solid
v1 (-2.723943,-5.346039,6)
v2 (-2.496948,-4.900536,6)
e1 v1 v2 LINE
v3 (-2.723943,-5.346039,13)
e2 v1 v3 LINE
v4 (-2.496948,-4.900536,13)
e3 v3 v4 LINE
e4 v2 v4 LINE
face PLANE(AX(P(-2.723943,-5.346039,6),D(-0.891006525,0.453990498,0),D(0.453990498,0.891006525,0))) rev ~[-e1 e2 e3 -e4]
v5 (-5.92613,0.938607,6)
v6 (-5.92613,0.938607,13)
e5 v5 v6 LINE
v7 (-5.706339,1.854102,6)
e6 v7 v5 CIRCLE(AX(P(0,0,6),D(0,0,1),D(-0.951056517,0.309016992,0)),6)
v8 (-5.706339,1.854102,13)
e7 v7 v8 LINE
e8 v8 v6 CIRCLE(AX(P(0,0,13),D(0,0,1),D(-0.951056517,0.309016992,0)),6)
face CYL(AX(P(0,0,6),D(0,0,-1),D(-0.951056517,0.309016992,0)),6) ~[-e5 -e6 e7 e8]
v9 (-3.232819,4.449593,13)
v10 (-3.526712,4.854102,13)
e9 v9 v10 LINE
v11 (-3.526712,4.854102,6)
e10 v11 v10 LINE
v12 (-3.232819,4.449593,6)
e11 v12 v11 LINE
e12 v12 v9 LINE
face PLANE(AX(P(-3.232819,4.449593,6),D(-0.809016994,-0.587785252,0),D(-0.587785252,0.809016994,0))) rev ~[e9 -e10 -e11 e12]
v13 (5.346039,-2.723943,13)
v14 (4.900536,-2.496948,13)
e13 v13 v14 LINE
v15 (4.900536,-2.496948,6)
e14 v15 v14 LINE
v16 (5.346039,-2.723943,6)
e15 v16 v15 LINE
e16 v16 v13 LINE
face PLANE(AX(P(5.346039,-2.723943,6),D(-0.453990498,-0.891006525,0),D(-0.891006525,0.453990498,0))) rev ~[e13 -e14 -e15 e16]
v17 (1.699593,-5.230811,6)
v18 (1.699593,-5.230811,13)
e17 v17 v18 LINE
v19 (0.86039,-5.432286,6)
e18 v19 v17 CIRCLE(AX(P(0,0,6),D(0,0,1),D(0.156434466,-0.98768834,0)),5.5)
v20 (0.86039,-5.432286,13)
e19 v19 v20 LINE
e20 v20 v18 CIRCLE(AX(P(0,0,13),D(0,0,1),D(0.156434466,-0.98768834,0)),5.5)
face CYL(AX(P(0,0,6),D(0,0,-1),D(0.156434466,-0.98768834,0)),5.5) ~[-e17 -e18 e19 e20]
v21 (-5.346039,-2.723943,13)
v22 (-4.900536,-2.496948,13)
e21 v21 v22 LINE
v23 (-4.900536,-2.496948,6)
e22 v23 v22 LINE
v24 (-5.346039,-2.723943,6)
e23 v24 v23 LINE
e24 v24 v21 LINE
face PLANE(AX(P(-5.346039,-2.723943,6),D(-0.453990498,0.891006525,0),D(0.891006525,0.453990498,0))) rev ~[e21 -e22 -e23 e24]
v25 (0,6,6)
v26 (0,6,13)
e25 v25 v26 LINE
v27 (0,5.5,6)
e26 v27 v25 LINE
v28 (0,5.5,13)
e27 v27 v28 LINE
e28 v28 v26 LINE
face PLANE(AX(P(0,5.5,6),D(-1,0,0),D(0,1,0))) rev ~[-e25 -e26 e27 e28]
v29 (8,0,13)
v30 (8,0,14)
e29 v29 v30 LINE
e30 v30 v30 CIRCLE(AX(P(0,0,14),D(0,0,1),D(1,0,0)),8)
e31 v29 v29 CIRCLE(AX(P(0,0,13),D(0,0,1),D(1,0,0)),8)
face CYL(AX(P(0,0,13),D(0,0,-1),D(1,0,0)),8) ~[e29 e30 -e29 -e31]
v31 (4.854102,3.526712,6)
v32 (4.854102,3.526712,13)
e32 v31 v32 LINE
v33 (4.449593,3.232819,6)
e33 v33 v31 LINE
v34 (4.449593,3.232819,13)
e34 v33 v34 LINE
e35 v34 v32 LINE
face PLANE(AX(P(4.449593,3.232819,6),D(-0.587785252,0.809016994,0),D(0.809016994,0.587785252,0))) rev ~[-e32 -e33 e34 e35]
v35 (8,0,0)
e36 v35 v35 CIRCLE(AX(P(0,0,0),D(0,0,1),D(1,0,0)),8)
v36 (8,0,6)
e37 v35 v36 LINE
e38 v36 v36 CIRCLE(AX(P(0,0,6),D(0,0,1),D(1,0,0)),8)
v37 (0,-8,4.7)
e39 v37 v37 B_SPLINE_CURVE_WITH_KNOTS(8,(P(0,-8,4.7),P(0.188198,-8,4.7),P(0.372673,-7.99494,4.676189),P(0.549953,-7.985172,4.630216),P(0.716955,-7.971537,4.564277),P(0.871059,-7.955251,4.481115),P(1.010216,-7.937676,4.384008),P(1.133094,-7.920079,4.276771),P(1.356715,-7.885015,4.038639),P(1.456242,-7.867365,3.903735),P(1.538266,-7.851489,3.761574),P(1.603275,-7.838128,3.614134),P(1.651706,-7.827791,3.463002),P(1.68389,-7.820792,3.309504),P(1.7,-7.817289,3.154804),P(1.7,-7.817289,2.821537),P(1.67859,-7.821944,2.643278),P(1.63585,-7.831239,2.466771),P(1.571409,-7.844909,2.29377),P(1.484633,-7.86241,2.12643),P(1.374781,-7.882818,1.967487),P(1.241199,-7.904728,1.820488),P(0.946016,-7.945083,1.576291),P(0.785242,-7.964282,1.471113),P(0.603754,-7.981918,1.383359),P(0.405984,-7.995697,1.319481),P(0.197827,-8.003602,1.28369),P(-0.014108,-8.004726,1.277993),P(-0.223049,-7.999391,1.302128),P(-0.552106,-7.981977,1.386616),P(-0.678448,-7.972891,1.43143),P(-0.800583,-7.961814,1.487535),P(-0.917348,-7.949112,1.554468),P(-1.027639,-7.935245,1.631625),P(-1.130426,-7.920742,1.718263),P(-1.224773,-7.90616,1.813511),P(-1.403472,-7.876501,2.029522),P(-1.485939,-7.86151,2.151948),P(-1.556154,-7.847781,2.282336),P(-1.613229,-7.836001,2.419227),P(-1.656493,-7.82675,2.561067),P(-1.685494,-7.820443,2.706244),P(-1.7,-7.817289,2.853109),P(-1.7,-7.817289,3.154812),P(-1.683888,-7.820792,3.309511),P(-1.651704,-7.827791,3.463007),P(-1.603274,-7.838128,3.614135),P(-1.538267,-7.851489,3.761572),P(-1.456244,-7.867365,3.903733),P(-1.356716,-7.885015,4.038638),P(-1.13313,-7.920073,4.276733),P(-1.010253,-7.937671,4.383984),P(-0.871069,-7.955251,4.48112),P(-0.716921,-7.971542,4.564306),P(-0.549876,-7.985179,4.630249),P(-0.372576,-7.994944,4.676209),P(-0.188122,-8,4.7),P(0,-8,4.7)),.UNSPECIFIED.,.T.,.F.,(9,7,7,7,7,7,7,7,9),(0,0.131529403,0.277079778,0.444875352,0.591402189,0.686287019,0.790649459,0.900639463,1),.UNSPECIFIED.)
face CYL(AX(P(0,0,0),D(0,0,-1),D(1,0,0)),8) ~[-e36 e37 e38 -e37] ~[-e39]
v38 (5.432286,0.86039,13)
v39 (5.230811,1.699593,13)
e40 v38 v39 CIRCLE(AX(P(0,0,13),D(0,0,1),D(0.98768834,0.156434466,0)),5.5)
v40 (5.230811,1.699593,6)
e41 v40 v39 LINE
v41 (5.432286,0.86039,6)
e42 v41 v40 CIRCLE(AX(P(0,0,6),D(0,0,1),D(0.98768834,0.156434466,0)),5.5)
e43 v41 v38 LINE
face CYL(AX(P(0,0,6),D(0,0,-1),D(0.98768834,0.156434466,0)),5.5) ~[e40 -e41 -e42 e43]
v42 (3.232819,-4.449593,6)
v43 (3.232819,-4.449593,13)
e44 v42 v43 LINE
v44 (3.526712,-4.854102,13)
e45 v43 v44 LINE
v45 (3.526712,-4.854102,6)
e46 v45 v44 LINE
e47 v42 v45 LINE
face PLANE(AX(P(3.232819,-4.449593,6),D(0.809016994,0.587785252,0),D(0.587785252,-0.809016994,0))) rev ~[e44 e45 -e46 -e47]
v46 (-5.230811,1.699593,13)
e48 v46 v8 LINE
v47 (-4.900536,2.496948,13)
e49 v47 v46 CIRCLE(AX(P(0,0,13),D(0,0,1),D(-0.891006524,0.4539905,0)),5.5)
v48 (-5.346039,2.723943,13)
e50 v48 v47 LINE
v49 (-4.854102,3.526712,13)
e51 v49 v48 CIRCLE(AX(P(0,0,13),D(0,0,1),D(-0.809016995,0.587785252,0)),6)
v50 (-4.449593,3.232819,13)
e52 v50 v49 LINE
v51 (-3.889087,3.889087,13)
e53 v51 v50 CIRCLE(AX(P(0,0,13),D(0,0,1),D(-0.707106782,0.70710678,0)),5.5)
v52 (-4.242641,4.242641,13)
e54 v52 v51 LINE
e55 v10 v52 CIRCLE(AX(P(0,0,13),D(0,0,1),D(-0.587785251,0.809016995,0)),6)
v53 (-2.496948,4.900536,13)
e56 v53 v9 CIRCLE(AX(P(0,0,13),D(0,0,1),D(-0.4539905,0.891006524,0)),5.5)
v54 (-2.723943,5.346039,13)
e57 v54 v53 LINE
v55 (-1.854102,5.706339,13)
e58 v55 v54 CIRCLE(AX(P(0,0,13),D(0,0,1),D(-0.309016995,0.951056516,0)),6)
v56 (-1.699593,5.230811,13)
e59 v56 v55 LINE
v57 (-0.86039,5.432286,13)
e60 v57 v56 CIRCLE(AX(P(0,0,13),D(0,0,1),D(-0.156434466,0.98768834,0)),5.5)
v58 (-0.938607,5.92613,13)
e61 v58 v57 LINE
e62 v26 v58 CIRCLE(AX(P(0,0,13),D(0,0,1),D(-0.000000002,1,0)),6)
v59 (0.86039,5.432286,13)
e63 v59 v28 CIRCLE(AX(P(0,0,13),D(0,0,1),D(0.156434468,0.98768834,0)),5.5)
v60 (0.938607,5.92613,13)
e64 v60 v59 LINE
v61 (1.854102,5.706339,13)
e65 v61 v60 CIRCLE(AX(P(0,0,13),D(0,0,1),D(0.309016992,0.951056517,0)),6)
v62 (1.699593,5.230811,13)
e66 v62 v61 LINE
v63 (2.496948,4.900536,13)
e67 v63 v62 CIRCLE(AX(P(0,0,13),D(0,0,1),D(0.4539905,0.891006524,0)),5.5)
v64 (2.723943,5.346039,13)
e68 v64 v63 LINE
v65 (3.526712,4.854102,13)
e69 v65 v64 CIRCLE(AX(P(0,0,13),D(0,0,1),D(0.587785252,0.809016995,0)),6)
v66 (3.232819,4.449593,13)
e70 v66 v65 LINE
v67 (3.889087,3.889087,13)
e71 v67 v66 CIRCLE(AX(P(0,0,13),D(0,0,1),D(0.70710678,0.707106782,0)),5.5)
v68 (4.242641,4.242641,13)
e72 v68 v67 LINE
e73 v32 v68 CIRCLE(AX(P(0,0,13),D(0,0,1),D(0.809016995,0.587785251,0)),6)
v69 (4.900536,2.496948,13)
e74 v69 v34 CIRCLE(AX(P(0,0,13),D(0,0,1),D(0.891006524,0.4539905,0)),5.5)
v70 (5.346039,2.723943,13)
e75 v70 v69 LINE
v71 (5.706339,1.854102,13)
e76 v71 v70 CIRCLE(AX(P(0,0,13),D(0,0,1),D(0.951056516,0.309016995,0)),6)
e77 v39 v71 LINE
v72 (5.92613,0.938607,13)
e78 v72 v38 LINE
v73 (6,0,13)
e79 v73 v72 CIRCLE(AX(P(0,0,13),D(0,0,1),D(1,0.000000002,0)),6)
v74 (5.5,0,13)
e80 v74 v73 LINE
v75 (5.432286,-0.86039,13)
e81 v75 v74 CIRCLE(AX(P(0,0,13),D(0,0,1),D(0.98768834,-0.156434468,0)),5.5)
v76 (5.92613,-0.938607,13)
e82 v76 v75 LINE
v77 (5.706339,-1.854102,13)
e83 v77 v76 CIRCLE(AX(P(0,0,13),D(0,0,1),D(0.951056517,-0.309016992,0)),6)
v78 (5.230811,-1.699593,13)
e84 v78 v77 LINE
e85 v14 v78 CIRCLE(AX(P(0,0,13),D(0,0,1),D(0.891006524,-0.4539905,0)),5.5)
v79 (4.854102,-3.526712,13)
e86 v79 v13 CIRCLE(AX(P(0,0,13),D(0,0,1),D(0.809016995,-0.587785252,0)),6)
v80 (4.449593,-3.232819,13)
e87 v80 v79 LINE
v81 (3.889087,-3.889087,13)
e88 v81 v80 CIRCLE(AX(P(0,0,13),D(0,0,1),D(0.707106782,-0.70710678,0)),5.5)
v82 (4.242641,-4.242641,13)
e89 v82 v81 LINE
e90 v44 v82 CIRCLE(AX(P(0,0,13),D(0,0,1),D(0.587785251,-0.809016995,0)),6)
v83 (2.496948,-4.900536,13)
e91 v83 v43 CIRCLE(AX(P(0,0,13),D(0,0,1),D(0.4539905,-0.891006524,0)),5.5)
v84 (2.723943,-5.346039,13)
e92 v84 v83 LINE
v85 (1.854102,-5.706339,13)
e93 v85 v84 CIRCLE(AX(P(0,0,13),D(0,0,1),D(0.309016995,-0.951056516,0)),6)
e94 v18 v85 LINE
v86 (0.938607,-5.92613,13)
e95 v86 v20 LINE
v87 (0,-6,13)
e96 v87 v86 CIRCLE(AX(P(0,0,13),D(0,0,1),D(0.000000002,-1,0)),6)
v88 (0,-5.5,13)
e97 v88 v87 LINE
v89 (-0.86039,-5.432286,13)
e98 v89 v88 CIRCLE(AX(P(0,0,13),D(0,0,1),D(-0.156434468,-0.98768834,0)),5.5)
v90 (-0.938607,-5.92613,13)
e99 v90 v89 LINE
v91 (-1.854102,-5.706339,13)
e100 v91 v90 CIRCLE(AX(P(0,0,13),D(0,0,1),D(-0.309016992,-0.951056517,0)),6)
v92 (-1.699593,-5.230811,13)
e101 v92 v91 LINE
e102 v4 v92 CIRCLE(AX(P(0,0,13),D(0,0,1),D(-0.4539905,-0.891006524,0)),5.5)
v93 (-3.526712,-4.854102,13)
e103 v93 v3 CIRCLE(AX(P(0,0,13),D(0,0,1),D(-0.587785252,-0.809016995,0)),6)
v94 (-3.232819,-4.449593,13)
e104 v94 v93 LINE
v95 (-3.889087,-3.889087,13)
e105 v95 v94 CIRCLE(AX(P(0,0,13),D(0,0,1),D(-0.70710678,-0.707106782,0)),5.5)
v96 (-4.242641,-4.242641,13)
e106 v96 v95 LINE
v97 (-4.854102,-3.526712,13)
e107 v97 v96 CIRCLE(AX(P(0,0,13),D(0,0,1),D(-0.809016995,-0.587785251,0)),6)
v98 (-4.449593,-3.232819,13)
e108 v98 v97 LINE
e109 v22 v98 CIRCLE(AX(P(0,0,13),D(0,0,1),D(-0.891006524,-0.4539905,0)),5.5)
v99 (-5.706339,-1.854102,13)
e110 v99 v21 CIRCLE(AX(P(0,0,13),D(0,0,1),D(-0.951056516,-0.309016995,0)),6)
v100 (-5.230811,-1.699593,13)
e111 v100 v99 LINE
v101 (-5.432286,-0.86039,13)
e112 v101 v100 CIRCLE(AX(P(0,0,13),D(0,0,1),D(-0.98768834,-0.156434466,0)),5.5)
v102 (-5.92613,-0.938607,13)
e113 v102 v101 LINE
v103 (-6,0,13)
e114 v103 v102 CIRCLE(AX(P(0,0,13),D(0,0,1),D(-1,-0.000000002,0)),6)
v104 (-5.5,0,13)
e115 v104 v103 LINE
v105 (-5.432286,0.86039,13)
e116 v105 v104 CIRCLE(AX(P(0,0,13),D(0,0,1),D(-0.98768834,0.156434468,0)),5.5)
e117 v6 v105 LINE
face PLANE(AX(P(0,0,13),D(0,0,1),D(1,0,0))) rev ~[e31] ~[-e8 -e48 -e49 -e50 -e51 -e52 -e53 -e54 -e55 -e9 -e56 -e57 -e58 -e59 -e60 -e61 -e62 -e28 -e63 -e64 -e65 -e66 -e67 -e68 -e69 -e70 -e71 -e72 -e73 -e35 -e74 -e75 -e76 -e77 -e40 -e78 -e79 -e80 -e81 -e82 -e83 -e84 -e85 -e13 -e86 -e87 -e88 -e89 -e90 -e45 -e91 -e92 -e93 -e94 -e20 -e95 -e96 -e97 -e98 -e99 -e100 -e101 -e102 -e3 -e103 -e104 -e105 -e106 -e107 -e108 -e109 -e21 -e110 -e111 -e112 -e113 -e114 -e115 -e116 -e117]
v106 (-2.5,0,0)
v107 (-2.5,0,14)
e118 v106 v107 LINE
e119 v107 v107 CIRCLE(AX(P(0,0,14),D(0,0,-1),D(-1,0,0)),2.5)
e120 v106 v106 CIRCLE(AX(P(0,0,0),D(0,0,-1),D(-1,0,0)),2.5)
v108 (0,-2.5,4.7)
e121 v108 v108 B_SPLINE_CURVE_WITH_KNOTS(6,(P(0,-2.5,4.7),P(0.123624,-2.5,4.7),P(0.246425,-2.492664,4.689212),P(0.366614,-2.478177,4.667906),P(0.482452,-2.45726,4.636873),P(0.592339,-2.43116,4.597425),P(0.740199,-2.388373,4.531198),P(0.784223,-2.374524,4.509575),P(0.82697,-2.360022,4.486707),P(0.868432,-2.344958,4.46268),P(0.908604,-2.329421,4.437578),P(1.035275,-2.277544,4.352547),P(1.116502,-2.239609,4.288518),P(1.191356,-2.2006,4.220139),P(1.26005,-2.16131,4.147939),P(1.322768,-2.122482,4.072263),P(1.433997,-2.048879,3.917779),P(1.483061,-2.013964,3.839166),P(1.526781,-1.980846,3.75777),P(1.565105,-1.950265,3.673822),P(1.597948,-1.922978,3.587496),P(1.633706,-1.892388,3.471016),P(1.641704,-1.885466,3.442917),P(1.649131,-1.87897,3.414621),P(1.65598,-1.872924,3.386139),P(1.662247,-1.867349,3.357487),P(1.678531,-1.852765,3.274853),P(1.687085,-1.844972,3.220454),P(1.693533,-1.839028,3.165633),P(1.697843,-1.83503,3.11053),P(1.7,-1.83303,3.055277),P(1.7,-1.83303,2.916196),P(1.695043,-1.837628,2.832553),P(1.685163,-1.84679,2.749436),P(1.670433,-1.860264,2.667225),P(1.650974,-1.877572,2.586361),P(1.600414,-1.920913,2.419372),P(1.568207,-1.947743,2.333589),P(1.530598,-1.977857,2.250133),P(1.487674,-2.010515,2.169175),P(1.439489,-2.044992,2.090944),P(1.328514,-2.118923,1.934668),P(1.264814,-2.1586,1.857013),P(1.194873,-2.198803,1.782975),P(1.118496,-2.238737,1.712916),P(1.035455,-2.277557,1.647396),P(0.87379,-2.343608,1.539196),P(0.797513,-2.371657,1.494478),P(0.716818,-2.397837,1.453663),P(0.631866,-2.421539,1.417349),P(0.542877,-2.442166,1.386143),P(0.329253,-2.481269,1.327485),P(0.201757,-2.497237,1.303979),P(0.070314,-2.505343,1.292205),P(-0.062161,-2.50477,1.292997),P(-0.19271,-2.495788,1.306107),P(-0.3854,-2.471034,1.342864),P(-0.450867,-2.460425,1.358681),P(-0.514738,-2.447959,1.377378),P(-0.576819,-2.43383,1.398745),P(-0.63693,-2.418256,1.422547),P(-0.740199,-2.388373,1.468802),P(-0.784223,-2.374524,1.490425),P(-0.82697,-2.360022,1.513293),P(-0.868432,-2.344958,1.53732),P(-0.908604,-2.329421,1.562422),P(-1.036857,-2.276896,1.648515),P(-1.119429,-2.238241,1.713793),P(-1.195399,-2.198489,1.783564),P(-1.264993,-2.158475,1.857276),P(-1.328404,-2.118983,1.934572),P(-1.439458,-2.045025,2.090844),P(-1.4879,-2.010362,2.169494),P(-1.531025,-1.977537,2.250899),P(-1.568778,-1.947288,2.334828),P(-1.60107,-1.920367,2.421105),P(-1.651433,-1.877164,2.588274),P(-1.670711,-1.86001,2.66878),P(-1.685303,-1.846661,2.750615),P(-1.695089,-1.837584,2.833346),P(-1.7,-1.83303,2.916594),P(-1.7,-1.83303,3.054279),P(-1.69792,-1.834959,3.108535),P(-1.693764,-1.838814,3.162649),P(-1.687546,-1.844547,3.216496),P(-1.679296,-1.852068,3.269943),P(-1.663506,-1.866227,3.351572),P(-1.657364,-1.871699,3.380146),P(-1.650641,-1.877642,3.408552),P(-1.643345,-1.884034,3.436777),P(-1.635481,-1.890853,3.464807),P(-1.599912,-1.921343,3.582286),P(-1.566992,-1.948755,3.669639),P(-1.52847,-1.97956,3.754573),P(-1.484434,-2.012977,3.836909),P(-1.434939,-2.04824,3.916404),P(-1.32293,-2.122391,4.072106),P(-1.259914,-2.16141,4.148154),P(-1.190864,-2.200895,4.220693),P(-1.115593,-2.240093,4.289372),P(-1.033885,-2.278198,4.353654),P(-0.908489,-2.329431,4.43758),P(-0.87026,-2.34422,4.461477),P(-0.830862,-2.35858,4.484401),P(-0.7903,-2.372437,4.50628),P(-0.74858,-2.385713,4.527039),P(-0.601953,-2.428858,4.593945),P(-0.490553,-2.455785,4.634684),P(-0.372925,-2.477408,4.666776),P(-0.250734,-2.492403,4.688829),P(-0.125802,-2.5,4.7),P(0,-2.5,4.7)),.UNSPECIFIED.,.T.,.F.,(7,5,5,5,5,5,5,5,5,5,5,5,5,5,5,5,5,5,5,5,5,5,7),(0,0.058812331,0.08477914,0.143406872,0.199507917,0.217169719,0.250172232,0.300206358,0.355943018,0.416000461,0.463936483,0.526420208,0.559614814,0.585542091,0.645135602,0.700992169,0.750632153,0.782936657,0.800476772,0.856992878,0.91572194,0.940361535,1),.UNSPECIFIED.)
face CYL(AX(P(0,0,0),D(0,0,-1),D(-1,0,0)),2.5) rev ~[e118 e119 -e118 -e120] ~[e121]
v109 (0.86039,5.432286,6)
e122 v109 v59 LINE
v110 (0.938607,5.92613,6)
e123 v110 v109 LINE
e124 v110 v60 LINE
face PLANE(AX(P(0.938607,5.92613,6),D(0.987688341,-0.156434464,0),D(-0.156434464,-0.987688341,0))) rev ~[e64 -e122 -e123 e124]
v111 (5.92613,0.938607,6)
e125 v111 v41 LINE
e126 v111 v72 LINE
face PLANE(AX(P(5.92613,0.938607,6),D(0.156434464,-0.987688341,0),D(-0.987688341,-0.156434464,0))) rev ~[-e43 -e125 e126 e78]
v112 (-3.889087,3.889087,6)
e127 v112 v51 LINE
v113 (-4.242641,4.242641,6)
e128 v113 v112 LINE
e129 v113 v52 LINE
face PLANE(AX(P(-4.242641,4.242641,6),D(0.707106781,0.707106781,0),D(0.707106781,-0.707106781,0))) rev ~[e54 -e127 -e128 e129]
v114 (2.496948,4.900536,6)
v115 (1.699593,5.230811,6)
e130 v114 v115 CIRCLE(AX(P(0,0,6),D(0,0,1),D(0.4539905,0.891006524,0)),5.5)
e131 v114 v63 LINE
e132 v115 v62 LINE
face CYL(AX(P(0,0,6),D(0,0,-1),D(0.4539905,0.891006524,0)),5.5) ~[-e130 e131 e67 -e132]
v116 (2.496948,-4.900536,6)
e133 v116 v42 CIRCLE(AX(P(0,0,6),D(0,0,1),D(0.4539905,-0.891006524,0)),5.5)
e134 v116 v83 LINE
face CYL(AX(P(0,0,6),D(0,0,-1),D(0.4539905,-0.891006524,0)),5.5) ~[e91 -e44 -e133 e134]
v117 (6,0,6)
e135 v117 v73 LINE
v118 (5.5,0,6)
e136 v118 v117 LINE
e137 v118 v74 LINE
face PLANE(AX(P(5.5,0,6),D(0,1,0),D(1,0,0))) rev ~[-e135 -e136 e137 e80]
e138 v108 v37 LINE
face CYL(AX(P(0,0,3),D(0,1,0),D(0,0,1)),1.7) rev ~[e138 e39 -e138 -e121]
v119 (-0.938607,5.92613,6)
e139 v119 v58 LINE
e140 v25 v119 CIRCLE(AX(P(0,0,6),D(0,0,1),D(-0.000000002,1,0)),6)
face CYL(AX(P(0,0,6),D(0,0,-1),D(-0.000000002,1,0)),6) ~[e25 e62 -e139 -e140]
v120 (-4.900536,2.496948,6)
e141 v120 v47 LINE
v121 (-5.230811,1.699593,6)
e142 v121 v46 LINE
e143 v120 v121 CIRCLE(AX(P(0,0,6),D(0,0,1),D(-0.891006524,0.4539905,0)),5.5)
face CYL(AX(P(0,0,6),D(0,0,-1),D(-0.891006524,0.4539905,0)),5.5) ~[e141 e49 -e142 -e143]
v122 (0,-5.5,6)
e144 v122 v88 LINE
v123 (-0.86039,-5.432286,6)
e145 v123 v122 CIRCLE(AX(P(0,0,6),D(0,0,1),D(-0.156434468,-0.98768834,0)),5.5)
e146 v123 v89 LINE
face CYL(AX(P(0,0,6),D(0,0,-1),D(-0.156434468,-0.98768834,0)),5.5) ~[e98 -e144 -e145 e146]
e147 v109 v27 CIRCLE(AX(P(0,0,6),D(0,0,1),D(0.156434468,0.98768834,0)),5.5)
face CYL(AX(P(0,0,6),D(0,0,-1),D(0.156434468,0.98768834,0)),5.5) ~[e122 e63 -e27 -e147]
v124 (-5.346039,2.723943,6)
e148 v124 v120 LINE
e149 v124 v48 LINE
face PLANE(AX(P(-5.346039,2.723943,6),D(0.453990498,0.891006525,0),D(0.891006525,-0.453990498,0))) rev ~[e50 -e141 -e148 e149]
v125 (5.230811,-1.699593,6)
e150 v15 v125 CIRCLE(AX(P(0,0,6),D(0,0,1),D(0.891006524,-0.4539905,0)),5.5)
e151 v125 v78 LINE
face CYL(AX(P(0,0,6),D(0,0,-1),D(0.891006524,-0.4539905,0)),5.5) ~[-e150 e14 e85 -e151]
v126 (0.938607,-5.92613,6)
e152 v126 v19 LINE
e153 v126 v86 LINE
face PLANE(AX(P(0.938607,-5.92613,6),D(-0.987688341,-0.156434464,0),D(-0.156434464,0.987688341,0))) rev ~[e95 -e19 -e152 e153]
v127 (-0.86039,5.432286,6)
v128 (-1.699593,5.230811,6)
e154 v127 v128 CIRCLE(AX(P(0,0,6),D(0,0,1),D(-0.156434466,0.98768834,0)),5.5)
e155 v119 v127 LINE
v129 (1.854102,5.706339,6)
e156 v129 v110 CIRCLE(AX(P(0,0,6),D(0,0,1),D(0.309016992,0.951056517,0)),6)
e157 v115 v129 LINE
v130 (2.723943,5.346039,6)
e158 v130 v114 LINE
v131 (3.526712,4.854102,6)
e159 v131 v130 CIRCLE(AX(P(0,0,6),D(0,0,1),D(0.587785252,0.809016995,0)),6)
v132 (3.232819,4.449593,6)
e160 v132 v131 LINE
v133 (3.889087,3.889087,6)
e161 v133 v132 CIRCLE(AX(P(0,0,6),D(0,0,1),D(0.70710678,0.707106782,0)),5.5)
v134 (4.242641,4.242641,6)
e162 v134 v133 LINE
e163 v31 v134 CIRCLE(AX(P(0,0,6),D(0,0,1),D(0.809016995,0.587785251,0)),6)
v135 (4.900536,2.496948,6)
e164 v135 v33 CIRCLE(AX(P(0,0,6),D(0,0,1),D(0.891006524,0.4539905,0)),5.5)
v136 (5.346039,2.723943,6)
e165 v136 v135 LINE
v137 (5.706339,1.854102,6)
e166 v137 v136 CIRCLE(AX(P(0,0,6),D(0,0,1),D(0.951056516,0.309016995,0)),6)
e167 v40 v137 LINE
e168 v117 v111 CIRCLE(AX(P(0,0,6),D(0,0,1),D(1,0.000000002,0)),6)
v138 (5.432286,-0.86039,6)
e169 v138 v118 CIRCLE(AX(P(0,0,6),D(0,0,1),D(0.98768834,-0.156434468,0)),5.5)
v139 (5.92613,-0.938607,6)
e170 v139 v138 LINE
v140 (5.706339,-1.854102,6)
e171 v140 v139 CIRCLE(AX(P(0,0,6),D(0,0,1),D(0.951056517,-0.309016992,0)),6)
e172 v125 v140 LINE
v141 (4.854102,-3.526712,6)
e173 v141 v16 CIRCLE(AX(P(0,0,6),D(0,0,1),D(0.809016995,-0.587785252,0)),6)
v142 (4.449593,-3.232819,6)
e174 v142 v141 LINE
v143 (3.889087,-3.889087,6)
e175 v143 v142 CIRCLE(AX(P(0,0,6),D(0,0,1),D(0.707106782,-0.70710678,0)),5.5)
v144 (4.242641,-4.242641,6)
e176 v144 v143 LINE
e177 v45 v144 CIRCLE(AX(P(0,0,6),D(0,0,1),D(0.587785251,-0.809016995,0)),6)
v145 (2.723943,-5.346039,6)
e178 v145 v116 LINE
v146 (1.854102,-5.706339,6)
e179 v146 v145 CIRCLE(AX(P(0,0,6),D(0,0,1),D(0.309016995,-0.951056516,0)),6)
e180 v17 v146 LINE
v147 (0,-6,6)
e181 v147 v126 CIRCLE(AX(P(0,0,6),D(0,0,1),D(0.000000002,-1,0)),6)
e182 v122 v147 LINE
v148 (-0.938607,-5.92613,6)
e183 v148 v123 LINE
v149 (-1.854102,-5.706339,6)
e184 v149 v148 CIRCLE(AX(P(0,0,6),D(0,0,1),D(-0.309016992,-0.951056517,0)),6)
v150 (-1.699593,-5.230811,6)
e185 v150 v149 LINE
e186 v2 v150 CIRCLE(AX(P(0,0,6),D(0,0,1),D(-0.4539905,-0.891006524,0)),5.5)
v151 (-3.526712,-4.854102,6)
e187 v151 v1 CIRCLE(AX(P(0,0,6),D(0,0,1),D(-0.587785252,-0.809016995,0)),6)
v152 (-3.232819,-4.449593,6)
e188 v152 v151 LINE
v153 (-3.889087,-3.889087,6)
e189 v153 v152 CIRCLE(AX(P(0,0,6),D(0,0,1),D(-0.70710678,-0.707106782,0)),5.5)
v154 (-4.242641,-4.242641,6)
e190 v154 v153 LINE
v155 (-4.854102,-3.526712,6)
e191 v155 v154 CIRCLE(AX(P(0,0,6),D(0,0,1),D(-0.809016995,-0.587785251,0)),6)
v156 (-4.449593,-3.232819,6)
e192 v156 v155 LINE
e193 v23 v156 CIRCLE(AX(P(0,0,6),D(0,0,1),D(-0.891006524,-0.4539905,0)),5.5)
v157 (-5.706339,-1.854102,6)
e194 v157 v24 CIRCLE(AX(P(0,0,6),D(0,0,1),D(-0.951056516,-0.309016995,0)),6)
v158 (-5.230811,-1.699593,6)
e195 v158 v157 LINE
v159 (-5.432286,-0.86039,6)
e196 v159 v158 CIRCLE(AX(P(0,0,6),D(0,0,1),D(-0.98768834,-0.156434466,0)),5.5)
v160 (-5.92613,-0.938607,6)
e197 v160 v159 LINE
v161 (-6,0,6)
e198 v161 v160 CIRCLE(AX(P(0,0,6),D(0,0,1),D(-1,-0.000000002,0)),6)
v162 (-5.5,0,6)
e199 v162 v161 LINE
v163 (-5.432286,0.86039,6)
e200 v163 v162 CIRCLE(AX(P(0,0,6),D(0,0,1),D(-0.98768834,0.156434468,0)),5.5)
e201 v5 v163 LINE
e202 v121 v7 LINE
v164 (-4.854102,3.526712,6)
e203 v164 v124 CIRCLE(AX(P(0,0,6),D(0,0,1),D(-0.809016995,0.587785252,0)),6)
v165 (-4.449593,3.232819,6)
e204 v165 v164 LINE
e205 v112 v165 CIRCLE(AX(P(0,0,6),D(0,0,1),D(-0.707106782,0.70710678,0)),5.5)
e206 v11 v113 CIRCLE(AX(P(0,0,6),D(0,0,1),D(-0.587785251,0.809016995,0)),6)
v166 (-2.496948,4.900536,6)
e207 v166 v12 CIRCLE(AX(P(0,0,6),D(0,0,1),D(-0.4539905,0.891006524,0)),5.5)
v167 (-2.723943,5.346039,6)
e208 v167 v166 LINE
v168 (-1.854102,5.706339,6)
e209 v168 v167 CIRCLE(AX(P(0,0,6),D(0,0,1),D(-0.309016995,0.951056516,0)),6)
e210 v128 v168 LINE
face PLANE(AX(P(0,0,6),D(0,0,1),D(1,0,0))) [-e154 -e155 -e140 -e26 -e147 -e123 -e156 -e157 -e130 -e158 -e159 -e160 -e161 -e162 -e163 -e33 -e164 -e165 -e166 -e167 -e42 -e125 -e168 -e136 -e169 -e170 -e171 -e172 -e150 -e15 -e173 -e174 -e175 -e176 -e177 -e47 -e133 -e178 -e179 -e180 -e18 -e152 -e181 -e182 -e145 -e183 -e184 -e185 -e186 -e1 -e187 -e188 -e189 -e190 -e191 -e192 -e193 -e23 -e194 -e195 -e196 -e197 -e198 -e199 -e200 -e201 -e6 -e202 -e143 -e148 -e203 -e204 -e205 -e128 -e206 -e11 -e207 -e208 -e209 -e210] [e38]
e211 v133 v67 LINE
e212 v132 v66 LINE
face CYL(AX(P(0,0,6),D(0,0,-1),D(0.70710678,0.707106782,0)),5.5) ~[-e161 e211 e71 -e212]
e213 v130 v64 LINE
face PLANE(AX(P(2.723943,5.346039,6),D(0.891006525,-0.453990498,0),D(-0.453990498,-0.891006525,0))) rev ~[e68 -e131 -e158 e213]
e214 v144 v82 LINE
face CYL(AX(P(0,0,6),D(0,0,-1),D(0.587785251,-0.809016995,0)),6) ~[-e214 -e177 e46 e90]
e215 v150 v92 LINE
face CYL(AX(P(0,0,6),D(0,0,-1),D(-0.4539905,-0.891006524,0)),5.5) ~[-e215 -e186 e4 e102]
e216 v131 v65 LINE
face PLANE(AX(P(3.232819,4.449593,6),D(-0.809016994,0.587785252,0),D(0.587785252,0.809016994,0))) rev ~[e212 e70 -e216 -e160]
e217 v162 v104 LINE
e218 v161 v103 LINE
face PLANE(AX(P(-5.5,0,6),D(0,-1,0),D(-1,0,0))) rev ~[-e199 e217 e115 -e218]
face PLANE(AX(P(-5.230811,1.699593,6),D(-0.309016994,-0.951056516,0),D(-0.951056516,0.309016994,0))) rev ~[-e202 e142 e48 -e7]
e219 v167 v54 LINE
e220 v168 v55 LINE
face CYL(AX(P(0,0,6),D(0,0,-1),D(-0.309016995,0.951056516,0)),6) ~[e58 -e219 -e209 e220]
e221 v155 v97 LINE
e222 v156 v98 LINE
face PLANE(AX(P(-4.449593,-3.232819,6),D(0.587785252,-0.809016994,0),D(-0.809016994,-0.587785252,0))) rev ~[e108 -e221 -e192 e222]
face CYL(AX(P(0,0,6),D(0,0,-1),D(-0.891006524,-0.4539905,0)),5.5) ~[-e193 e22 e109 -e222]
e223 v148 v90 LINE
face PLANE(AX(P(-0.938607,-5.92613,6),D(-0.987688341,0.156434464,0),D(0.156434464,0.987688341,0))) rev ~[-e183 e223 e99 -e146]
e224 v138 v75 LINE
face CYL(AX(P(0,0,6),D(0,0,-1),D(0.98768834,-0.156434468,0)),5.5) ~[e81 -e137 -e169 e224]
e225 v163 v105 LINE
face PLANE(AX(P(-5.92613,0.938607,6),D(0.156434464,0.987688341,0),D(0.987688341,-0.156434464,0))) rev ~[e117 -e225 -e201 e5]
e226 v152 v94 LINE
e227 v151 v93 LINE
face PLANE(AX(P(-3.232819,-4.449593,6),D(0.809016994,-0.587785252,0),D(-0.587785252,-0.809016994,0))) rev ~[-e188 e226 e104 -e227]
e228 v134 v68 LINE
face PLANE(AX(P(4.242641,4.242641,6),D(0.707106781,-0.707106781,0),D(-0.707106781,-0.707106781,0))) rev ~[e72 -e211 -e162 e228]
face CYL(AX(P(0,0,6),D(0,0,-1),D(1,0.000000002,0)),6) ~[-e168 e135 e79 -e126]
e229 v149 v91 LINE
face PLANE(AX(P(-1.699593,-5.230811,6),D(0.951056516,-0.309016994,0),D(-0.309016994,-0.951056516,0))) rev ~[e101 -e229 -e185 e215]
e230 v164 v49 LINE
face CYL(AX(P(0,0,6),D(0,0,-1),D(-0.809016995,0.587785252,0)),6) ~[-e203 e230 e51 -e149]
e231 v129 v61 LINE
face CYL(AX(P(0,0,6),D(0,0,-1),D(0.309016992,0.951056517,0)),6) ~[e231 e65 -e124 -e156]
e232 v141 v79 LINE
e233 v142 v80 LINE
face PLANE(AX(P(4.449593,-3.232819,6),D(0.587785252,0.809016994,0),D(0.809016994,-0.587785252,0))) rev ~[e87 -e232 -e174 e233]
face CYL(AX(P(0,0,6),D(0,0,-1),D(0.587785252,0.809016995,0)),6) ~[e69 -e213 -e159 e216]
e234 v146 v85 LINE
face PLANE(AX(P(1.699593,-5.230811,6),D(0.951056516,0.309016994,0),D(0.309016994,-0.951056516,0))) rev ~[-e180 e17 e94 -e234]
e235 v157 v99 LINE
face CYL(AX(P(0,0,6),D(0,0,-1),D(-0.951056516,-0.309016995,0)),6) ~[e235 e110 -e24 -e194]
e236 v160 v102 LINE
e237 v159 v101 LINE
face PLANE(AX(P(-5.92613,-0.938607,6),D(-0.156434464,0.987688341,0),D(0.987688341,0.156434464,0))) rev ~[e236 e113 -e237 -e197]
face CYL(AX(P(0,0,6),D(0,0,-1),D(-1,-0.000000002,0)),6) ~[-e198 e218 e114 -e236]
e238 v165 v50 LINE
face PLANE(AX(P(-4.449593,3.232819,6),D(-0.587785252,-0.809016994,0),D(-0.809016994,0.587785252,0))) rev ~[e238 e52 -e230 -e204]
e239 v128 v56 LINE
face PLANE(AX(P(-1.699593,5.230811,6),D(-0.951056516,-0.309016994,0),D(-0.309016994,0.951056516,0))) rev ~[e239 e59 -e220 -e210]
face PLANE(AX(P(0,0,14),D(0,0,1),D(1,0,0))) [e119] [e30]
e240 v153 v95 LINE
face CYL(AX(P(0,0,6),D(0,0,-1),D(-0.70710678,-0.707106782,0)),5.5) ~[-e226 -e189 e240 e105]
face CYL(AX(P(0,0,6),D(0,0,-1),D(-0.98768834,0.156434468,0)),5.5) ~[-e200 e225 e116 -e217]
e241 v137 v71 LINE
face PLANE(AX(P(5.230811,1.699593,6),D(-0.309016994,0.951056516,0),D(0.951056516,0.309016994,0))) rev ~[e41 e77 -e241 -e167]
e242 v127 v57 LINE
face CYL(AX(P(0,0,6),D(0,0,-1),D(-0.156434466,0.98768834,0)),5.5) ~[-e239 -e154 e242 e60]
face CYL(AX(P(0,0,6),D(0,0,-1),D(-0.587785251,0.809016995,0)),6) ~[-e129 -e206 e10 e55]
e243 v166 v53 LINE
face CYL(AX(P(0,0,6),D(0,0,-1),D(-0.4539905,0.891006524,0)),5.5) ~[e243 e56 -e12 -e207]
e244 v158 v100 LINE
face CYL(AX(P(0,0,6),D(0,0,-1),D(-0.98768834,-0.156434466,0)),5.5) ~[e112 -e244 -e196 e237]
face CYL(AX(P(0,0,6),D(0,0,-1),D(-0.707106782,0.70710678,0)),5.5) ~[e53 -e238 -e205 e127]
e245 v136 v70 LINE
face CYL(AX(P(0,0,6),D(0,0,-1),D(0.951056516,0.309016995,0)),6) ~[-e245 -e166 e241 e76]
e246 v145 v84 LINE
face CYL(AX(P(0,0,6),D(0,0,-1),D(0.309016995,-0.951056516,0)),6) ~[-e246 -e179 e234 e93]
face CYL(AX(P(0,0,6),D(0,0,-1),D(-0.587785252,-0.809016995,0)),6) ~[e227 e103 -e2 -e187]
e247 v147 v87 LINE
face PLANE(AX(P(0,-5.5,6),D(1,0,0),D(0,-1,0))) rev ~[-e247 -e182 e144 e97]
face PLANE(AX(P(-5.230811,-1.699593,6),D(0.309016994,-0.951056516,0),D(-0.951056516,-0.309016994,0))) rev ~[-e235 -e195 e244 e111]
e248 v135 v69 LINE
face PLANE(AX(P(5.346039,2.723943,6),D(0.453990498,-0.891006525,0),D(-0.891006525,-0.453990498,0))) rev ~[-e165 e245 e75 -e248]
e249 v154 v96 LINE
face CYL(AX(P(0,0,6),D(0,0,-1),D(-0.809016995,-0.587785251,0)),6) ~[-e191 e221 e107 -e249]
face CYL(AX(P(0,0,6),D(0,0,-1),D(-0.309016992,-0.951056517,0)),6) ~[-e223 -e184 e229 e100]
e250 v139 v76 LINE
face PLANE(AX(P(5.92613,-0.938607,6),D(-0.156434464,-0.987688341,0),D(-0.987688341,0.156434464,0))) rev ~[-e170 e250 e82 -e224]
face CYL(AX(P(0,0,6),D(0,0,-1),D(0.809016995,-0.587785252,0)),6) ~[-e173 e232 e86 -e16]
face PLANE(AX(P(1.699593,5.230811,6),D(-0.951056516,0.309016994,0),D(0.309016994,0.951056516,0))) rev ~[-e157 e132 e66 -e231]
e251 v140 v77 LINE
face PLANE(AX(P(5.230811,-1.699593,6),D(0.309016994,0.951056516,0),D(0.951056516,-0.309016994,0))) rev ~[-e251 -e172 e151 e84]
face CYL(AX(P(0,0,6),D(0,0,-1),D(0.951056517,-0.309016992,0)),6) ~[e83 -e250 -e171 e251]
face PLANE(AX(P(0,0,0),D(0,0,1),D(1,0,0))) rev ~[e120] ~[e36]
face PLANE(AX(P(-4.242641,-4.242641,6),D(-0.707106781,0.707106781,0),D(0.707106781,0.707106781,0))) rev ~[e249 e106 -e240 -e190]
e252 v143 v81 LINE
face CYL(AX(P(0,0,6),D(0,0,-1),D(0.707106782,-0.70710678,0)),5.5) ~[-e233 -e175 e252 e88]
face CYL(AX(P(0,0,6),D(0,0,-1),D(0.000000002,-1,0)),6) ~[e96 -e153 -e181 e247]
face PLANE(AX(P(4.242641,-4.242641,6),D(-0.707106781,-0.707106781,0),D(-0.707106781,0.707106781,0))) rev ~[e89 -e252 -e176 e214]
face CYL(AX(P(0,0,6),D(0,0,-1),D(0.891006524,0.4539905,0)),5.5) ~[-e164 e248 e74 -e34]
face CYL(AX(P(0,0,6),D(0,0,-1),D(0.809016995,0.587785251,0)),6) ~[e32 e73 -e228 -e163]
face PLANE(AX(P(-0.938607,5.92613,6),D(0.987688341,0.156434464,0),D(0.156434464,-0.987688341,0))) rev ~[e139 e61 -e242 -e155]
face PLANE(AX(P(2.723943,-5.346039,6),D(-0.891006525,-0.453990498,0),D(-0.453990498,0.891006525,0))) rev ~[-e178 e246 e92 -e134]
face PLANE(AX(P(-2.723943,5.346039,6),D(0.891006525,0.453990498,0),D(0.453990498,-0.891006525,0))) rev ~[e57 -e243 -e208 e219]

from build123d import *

# Parameters (mm, degrees)
SKETCH1_R           = 8
BOSS_EXTRUDE1_DEPTH = 6
BOSS_EXTRUDE2_DEPTH = 7
SKETCH3_R           = 8
BOSS_EXTRUDE3_DEPTH = 1
SKETCH4_R           = 2.5
CUT_EXTRUDE1_DEPTH  = 19
SKETCH5_R           = 1.7
CUT_EXTRUDE2_DEPTH  = 19


with BuildPart() as part:
    # Sketch1 → Boss-Extrude1 (new body)
    with BuildSketch(Plane.XY):
        Circle(SKETCH1_R)
    extrude(amount=BOSS_EXTRUDE1_DEPTH)

    # Sketch2 → Boss-Extrude2 (add)
    with BuildSketch(Plane.XY.offset(6)):
        with BuildLine():
            Line((0, 5.5), (0, 6))
            ThreePointArc((0, 6), (-0.470754574, 5.981504002), (-0.93860679, 5.926130044))
            Line((-0.93860679, 5.926130044), (-0.860389558, 5.432285873))
            ThreePointArc((-0.860389558, 5.432285873), (-1.283949501, 5.348034562), (-1.699593469, 5.23081084))
            Line((-1.699593469, 5.23081084), (-1.854101966, 5.706339098))
            ThreePointArc((-1.854101966, 5.706339098), (-2.296100594, 5.543277195), (-2.723942998, 5.346039145))
            Line((-2.723942998, 5.346039145), (-2.496947749, 4.900535883))
            ThreePointArc((-2.496947749, 4.900535883), (-2.873742106, 4.689520904), (-3.232818888, 4.449593469))
            Line((-3.232818888, 4.449593469), (-3.526711514, 4.854101966))
            ThreePointArc((-3.526711514, 4.854101966), (-3.89668829, 4.562435794), (-4.242640687, 4.242640687))
            Line((-4.242640687, 4.242640687), (-3.889087297, 3.889087297))
            ThreePointArc((-3.889087297, 3.889087297), (-4.182232811, 3.571964266), (-4.449593469, 3.232818888))
            Line((-4.449593469, 3.232818888), (-4.854101966, 3.526711514))
            ThreePointArc((-4.854101966, 3.526711514), (-5.115840986, 3.134991388), (-5.346039145, 2.723942998))
            Line((-5.346039145, 2.723942998), (-4.900535883, 2.496947749))
            ThreePointArc((-4.900535883, 2.496947749), (-5.081337429, 2.104758878), (-5.23081084, 1.699593469))
            Line((-5.23081084, 1.699593469), (-5.706339098, 1.854101966))
            ThreePointArc((-5.706339098, 1.854101966), (-5.834219522, 1.400672183), (-5.926130044, 0.93860679))
            Line((-5.926130044, 0.93860679), (-5.432285873, 0.860389558))
            ThreePointArc((-5.432285873, 0.860389558), (-5.483045336, 0.431525027), (-5.5, 0))
            Line((-5.5, 0), (-6, 0))
            ThreePointArc((-6, 0), (-5.981504002, -0.470754574), (-5.926130044, -0.93860679))
            Line((-5.926130044, -0.93860679), (-5.432285873, -0.860389558))
            ThreePointArc((-5.432285873, -0.860389558), (-5.348034562, -1.283949501), (-5.23081084, -1.699593469))
            Line((-5.23081084, -1.699593469), (-5.706339098, -1.854101966))
            ThreePointArc((-5.706339098, -1.854101966), (-5.543277195, -2.296100594), (-5.346039145, -2.723942998))
            Line((-5.346039145, -2.723942998), (-4.900535883, -2.496947749))
            ThreePointArc((-4.900535883, -2.496947749), (-4.689520904, -2.873742106), (-4.449593469, -3.232818888))
            Line((-4.449593469, -3.232818888), (-4.854101966, -3.526711514))
            ThreePointArc((-4.854101966, -3.526711514), (-4.562435794, -3.89668829), (-4.242640687, -4.242640687))
            Line((-4.242640687, -4.242640687), (-3.889087297, -3.889087297))
            ThreePointArc((-3.889087297, -3.889087297), (-3.571964266, -4.182232811), (-3.232818888, -4.449593469))
            Line((-3.232818888, -4.449593469), (-3.526711514, -4.854101966))
            ThreePointArc((-3.526711514, -4.854101966), (-3.134991388, -5.115840986), (-2.723942998, -5.346039145))
            Line((-2.723942998, -5.346039145), (-2.496947749, -4.900535883))
            ThreePointArc((-2.496947749, -4.900535883), (-2.104758878, -5.081337429), (-1.699593469, -5.23081084))
            Line((-1.699593469, -5.23081084), (-1.854101966, -5.706339098))
            ThreePointArc((-1.854101966, -5.706339098), (-1.400672183, -5.834219522), (-0.93860679, -5.926130044))
            Line((-0.93860679, -5.926130044), (-0.860389558, -5.432285873))
            ThreePointArc((-0.860389558, -5.432285873), (-0.431525027, -5.483045336), (0, -5.5))
            Line((0, -5.5), (0, -6))
            ThreePointArc((0, -6), (0.470754574, -5.981504002), (0.93860679, -5.926130044))
            Line((0.93860679, -5.926130044), (0.860389558, -5.432285873))
            ThreePointArc((0.860389558, -5.432285873), (1.283949501, -5.348034562), (1.699593469, -5.23081084))
            Line((1.699593469, -5.23081084), (1.854101966, -5.706339098))
            ThreePointArc((1.854101966, -5.706339098), (2.296100594, -5.543277195), (2.723942998, -5.346039145))
            Line((2.723942998, -5.346039145), (2.496947749, -4.900535883))
            ThreePointArc((2.496947749, -4.900535883), (2.873742106, -4.689520904), (3.232818888, -4.449593469))
            Line((3.232818888, -4.449593469), (3.526711514, -4.854101966))
            ThreePointArc((3.526711514, -4.854101966), (3.89668829, -4.562435794), (4.242640687, -4.242640687))
            Line((4.242640687, -4.242640687), (3.889087297, -3.889087297))
            ThreePointArc((3.889087297, -3.889087297), (4.182232811, -3.571964266), (4.449593469, -3.232818888))
            Line((4.449593469, -3.232818888), (4.854101966, -3.526711514))
            ThreePointArc((4.854101966, -3.526711514), (5.115840986, -3.134991388), (5.346039145, -2.723942998))
            Line((5.346039145, -2.723942998), (4.900535883, -2.496947749))
            ThreePointArc((4.900535883, -2.496947749), (5.081337429, -2.104758878), (5.23081084, -1.699593469))
            Line((5.23081084, -1.699593469), (5.706339098, -1.854101966))
            ThreePointArc((5.706339098, -1.854101966), (5.834219522, -1.400672183), (5.926130044, -0.93860679))
            Line((5.926130044, -0.93860679), (5.432285873, -0.860389558))
            ThreePointArc((5.432285873, -0.860389558), (5.483045336, -0.431525027), (5.5, 0))
            Line((5.5, 0), (6, 0))
            ThreePointArc((6, 0), (5.981504002, 0.470754574), (5.926130044, 0.93860679))
            Line((5.926130044, 0.93860679), (5.432285873, 0.860389558))
            ThreePointArc((5.432285873, 0.860389558), (5.348034562, 1.283949501), (5.23081084, 1.699593469))
            Line((5.23081084, 1.699593469), (5.706339098, 1.854101966))
            ThreePointArc((5.706339098, 1.854101966), (5.543277195, 2.296100594), (5.346039145, 2.723942998))
            Line((5.346039145, 2.723942998), (4.900535883, 2.496947749))
            ThreePointArc((4.900535883, 2.496947749), (4.689520904, 2.873742106), (4.449593469, 3.232818888))
            Line((4.449593469, 3.232818888), (4.854101966, 3.526711514))
            ThreePointArc((4.854101966, 3.526711514), (4.562435794, 3.89668829), (4.242640687, 4.242640687))
            Line((4.242640687, 4.242640687), (3.889087297, 3.889087297))
            ThreePointArc((3.889087297, 3.889087297), (3.571964266, 4.182232811), (3.232818888, 4.449593469))
            Line((3.232818888, 4.449593469), (3.526711514, 4.854101966))
            ThreePointArc((3.526711514, 4.854101966), (3.134991388, 5.115840986), (2.723942998, 5.346039145))
            Line((2.723942998, 5.346039145), (2.496947749, 4.900535883))
            ThreePointArc((2.496947749, 4.900535883), (2.104758878, 5.081337429), (1.699593469, 5.23081084))
            Line((1.699593469, 5.23081084), (1.854101966, 5.706339098))
            ThreePointArc((1.854101966, 5.706339098), (1.400672183, 5.834219522), (0.93860679, 5.926130044))
            Line((0.93860679, 5.926130044), (0.860389558, 5.432285873))
            ThreePointArc((0.860389558, 5.432285873), (0.431525027, 5.483045336), (0, 5.5))
        make_face()
    extrude(amount=BOSS_EXTRUDE2_DEPTH)

    # Sketch3 → Boss-Extrude3 (add)
    with BuildSketch(Plane.XY.offset(13)):
        Circle(SKETCH3_R)
    extrude(amount=BOSS_EXTRUDE3_DEPTH)

    # Sketch4 → Cut-Extrude1 (cut, through all)
    with BuildSketch(Plane(origin=(0, 0, 0), x_dir=(-1, 0, 0), z_dir=(0, 0, -1))):
        Circle(SKETCH4_R)
    extrude(amount=-CUT_EXTRUDE1_DEPTH, mode=Mode.SUBTRACT)

    # Sketch5 → Cut-Extrude2 (cut, through all)
    with BuildSketch(Plane(origin=(0, 0, 0), x_dir=(1, 0, 0), z_dir=(0, 1, 0))):
        with Locations(Location((0, -3, 0), (0, 0, 270))):
            Circle(SKETCH5_R)
    extrude(amount=-CUT_EXTRUDE2_DEPTH, mode=Mode.SUBTRACT)


solid = part.part
